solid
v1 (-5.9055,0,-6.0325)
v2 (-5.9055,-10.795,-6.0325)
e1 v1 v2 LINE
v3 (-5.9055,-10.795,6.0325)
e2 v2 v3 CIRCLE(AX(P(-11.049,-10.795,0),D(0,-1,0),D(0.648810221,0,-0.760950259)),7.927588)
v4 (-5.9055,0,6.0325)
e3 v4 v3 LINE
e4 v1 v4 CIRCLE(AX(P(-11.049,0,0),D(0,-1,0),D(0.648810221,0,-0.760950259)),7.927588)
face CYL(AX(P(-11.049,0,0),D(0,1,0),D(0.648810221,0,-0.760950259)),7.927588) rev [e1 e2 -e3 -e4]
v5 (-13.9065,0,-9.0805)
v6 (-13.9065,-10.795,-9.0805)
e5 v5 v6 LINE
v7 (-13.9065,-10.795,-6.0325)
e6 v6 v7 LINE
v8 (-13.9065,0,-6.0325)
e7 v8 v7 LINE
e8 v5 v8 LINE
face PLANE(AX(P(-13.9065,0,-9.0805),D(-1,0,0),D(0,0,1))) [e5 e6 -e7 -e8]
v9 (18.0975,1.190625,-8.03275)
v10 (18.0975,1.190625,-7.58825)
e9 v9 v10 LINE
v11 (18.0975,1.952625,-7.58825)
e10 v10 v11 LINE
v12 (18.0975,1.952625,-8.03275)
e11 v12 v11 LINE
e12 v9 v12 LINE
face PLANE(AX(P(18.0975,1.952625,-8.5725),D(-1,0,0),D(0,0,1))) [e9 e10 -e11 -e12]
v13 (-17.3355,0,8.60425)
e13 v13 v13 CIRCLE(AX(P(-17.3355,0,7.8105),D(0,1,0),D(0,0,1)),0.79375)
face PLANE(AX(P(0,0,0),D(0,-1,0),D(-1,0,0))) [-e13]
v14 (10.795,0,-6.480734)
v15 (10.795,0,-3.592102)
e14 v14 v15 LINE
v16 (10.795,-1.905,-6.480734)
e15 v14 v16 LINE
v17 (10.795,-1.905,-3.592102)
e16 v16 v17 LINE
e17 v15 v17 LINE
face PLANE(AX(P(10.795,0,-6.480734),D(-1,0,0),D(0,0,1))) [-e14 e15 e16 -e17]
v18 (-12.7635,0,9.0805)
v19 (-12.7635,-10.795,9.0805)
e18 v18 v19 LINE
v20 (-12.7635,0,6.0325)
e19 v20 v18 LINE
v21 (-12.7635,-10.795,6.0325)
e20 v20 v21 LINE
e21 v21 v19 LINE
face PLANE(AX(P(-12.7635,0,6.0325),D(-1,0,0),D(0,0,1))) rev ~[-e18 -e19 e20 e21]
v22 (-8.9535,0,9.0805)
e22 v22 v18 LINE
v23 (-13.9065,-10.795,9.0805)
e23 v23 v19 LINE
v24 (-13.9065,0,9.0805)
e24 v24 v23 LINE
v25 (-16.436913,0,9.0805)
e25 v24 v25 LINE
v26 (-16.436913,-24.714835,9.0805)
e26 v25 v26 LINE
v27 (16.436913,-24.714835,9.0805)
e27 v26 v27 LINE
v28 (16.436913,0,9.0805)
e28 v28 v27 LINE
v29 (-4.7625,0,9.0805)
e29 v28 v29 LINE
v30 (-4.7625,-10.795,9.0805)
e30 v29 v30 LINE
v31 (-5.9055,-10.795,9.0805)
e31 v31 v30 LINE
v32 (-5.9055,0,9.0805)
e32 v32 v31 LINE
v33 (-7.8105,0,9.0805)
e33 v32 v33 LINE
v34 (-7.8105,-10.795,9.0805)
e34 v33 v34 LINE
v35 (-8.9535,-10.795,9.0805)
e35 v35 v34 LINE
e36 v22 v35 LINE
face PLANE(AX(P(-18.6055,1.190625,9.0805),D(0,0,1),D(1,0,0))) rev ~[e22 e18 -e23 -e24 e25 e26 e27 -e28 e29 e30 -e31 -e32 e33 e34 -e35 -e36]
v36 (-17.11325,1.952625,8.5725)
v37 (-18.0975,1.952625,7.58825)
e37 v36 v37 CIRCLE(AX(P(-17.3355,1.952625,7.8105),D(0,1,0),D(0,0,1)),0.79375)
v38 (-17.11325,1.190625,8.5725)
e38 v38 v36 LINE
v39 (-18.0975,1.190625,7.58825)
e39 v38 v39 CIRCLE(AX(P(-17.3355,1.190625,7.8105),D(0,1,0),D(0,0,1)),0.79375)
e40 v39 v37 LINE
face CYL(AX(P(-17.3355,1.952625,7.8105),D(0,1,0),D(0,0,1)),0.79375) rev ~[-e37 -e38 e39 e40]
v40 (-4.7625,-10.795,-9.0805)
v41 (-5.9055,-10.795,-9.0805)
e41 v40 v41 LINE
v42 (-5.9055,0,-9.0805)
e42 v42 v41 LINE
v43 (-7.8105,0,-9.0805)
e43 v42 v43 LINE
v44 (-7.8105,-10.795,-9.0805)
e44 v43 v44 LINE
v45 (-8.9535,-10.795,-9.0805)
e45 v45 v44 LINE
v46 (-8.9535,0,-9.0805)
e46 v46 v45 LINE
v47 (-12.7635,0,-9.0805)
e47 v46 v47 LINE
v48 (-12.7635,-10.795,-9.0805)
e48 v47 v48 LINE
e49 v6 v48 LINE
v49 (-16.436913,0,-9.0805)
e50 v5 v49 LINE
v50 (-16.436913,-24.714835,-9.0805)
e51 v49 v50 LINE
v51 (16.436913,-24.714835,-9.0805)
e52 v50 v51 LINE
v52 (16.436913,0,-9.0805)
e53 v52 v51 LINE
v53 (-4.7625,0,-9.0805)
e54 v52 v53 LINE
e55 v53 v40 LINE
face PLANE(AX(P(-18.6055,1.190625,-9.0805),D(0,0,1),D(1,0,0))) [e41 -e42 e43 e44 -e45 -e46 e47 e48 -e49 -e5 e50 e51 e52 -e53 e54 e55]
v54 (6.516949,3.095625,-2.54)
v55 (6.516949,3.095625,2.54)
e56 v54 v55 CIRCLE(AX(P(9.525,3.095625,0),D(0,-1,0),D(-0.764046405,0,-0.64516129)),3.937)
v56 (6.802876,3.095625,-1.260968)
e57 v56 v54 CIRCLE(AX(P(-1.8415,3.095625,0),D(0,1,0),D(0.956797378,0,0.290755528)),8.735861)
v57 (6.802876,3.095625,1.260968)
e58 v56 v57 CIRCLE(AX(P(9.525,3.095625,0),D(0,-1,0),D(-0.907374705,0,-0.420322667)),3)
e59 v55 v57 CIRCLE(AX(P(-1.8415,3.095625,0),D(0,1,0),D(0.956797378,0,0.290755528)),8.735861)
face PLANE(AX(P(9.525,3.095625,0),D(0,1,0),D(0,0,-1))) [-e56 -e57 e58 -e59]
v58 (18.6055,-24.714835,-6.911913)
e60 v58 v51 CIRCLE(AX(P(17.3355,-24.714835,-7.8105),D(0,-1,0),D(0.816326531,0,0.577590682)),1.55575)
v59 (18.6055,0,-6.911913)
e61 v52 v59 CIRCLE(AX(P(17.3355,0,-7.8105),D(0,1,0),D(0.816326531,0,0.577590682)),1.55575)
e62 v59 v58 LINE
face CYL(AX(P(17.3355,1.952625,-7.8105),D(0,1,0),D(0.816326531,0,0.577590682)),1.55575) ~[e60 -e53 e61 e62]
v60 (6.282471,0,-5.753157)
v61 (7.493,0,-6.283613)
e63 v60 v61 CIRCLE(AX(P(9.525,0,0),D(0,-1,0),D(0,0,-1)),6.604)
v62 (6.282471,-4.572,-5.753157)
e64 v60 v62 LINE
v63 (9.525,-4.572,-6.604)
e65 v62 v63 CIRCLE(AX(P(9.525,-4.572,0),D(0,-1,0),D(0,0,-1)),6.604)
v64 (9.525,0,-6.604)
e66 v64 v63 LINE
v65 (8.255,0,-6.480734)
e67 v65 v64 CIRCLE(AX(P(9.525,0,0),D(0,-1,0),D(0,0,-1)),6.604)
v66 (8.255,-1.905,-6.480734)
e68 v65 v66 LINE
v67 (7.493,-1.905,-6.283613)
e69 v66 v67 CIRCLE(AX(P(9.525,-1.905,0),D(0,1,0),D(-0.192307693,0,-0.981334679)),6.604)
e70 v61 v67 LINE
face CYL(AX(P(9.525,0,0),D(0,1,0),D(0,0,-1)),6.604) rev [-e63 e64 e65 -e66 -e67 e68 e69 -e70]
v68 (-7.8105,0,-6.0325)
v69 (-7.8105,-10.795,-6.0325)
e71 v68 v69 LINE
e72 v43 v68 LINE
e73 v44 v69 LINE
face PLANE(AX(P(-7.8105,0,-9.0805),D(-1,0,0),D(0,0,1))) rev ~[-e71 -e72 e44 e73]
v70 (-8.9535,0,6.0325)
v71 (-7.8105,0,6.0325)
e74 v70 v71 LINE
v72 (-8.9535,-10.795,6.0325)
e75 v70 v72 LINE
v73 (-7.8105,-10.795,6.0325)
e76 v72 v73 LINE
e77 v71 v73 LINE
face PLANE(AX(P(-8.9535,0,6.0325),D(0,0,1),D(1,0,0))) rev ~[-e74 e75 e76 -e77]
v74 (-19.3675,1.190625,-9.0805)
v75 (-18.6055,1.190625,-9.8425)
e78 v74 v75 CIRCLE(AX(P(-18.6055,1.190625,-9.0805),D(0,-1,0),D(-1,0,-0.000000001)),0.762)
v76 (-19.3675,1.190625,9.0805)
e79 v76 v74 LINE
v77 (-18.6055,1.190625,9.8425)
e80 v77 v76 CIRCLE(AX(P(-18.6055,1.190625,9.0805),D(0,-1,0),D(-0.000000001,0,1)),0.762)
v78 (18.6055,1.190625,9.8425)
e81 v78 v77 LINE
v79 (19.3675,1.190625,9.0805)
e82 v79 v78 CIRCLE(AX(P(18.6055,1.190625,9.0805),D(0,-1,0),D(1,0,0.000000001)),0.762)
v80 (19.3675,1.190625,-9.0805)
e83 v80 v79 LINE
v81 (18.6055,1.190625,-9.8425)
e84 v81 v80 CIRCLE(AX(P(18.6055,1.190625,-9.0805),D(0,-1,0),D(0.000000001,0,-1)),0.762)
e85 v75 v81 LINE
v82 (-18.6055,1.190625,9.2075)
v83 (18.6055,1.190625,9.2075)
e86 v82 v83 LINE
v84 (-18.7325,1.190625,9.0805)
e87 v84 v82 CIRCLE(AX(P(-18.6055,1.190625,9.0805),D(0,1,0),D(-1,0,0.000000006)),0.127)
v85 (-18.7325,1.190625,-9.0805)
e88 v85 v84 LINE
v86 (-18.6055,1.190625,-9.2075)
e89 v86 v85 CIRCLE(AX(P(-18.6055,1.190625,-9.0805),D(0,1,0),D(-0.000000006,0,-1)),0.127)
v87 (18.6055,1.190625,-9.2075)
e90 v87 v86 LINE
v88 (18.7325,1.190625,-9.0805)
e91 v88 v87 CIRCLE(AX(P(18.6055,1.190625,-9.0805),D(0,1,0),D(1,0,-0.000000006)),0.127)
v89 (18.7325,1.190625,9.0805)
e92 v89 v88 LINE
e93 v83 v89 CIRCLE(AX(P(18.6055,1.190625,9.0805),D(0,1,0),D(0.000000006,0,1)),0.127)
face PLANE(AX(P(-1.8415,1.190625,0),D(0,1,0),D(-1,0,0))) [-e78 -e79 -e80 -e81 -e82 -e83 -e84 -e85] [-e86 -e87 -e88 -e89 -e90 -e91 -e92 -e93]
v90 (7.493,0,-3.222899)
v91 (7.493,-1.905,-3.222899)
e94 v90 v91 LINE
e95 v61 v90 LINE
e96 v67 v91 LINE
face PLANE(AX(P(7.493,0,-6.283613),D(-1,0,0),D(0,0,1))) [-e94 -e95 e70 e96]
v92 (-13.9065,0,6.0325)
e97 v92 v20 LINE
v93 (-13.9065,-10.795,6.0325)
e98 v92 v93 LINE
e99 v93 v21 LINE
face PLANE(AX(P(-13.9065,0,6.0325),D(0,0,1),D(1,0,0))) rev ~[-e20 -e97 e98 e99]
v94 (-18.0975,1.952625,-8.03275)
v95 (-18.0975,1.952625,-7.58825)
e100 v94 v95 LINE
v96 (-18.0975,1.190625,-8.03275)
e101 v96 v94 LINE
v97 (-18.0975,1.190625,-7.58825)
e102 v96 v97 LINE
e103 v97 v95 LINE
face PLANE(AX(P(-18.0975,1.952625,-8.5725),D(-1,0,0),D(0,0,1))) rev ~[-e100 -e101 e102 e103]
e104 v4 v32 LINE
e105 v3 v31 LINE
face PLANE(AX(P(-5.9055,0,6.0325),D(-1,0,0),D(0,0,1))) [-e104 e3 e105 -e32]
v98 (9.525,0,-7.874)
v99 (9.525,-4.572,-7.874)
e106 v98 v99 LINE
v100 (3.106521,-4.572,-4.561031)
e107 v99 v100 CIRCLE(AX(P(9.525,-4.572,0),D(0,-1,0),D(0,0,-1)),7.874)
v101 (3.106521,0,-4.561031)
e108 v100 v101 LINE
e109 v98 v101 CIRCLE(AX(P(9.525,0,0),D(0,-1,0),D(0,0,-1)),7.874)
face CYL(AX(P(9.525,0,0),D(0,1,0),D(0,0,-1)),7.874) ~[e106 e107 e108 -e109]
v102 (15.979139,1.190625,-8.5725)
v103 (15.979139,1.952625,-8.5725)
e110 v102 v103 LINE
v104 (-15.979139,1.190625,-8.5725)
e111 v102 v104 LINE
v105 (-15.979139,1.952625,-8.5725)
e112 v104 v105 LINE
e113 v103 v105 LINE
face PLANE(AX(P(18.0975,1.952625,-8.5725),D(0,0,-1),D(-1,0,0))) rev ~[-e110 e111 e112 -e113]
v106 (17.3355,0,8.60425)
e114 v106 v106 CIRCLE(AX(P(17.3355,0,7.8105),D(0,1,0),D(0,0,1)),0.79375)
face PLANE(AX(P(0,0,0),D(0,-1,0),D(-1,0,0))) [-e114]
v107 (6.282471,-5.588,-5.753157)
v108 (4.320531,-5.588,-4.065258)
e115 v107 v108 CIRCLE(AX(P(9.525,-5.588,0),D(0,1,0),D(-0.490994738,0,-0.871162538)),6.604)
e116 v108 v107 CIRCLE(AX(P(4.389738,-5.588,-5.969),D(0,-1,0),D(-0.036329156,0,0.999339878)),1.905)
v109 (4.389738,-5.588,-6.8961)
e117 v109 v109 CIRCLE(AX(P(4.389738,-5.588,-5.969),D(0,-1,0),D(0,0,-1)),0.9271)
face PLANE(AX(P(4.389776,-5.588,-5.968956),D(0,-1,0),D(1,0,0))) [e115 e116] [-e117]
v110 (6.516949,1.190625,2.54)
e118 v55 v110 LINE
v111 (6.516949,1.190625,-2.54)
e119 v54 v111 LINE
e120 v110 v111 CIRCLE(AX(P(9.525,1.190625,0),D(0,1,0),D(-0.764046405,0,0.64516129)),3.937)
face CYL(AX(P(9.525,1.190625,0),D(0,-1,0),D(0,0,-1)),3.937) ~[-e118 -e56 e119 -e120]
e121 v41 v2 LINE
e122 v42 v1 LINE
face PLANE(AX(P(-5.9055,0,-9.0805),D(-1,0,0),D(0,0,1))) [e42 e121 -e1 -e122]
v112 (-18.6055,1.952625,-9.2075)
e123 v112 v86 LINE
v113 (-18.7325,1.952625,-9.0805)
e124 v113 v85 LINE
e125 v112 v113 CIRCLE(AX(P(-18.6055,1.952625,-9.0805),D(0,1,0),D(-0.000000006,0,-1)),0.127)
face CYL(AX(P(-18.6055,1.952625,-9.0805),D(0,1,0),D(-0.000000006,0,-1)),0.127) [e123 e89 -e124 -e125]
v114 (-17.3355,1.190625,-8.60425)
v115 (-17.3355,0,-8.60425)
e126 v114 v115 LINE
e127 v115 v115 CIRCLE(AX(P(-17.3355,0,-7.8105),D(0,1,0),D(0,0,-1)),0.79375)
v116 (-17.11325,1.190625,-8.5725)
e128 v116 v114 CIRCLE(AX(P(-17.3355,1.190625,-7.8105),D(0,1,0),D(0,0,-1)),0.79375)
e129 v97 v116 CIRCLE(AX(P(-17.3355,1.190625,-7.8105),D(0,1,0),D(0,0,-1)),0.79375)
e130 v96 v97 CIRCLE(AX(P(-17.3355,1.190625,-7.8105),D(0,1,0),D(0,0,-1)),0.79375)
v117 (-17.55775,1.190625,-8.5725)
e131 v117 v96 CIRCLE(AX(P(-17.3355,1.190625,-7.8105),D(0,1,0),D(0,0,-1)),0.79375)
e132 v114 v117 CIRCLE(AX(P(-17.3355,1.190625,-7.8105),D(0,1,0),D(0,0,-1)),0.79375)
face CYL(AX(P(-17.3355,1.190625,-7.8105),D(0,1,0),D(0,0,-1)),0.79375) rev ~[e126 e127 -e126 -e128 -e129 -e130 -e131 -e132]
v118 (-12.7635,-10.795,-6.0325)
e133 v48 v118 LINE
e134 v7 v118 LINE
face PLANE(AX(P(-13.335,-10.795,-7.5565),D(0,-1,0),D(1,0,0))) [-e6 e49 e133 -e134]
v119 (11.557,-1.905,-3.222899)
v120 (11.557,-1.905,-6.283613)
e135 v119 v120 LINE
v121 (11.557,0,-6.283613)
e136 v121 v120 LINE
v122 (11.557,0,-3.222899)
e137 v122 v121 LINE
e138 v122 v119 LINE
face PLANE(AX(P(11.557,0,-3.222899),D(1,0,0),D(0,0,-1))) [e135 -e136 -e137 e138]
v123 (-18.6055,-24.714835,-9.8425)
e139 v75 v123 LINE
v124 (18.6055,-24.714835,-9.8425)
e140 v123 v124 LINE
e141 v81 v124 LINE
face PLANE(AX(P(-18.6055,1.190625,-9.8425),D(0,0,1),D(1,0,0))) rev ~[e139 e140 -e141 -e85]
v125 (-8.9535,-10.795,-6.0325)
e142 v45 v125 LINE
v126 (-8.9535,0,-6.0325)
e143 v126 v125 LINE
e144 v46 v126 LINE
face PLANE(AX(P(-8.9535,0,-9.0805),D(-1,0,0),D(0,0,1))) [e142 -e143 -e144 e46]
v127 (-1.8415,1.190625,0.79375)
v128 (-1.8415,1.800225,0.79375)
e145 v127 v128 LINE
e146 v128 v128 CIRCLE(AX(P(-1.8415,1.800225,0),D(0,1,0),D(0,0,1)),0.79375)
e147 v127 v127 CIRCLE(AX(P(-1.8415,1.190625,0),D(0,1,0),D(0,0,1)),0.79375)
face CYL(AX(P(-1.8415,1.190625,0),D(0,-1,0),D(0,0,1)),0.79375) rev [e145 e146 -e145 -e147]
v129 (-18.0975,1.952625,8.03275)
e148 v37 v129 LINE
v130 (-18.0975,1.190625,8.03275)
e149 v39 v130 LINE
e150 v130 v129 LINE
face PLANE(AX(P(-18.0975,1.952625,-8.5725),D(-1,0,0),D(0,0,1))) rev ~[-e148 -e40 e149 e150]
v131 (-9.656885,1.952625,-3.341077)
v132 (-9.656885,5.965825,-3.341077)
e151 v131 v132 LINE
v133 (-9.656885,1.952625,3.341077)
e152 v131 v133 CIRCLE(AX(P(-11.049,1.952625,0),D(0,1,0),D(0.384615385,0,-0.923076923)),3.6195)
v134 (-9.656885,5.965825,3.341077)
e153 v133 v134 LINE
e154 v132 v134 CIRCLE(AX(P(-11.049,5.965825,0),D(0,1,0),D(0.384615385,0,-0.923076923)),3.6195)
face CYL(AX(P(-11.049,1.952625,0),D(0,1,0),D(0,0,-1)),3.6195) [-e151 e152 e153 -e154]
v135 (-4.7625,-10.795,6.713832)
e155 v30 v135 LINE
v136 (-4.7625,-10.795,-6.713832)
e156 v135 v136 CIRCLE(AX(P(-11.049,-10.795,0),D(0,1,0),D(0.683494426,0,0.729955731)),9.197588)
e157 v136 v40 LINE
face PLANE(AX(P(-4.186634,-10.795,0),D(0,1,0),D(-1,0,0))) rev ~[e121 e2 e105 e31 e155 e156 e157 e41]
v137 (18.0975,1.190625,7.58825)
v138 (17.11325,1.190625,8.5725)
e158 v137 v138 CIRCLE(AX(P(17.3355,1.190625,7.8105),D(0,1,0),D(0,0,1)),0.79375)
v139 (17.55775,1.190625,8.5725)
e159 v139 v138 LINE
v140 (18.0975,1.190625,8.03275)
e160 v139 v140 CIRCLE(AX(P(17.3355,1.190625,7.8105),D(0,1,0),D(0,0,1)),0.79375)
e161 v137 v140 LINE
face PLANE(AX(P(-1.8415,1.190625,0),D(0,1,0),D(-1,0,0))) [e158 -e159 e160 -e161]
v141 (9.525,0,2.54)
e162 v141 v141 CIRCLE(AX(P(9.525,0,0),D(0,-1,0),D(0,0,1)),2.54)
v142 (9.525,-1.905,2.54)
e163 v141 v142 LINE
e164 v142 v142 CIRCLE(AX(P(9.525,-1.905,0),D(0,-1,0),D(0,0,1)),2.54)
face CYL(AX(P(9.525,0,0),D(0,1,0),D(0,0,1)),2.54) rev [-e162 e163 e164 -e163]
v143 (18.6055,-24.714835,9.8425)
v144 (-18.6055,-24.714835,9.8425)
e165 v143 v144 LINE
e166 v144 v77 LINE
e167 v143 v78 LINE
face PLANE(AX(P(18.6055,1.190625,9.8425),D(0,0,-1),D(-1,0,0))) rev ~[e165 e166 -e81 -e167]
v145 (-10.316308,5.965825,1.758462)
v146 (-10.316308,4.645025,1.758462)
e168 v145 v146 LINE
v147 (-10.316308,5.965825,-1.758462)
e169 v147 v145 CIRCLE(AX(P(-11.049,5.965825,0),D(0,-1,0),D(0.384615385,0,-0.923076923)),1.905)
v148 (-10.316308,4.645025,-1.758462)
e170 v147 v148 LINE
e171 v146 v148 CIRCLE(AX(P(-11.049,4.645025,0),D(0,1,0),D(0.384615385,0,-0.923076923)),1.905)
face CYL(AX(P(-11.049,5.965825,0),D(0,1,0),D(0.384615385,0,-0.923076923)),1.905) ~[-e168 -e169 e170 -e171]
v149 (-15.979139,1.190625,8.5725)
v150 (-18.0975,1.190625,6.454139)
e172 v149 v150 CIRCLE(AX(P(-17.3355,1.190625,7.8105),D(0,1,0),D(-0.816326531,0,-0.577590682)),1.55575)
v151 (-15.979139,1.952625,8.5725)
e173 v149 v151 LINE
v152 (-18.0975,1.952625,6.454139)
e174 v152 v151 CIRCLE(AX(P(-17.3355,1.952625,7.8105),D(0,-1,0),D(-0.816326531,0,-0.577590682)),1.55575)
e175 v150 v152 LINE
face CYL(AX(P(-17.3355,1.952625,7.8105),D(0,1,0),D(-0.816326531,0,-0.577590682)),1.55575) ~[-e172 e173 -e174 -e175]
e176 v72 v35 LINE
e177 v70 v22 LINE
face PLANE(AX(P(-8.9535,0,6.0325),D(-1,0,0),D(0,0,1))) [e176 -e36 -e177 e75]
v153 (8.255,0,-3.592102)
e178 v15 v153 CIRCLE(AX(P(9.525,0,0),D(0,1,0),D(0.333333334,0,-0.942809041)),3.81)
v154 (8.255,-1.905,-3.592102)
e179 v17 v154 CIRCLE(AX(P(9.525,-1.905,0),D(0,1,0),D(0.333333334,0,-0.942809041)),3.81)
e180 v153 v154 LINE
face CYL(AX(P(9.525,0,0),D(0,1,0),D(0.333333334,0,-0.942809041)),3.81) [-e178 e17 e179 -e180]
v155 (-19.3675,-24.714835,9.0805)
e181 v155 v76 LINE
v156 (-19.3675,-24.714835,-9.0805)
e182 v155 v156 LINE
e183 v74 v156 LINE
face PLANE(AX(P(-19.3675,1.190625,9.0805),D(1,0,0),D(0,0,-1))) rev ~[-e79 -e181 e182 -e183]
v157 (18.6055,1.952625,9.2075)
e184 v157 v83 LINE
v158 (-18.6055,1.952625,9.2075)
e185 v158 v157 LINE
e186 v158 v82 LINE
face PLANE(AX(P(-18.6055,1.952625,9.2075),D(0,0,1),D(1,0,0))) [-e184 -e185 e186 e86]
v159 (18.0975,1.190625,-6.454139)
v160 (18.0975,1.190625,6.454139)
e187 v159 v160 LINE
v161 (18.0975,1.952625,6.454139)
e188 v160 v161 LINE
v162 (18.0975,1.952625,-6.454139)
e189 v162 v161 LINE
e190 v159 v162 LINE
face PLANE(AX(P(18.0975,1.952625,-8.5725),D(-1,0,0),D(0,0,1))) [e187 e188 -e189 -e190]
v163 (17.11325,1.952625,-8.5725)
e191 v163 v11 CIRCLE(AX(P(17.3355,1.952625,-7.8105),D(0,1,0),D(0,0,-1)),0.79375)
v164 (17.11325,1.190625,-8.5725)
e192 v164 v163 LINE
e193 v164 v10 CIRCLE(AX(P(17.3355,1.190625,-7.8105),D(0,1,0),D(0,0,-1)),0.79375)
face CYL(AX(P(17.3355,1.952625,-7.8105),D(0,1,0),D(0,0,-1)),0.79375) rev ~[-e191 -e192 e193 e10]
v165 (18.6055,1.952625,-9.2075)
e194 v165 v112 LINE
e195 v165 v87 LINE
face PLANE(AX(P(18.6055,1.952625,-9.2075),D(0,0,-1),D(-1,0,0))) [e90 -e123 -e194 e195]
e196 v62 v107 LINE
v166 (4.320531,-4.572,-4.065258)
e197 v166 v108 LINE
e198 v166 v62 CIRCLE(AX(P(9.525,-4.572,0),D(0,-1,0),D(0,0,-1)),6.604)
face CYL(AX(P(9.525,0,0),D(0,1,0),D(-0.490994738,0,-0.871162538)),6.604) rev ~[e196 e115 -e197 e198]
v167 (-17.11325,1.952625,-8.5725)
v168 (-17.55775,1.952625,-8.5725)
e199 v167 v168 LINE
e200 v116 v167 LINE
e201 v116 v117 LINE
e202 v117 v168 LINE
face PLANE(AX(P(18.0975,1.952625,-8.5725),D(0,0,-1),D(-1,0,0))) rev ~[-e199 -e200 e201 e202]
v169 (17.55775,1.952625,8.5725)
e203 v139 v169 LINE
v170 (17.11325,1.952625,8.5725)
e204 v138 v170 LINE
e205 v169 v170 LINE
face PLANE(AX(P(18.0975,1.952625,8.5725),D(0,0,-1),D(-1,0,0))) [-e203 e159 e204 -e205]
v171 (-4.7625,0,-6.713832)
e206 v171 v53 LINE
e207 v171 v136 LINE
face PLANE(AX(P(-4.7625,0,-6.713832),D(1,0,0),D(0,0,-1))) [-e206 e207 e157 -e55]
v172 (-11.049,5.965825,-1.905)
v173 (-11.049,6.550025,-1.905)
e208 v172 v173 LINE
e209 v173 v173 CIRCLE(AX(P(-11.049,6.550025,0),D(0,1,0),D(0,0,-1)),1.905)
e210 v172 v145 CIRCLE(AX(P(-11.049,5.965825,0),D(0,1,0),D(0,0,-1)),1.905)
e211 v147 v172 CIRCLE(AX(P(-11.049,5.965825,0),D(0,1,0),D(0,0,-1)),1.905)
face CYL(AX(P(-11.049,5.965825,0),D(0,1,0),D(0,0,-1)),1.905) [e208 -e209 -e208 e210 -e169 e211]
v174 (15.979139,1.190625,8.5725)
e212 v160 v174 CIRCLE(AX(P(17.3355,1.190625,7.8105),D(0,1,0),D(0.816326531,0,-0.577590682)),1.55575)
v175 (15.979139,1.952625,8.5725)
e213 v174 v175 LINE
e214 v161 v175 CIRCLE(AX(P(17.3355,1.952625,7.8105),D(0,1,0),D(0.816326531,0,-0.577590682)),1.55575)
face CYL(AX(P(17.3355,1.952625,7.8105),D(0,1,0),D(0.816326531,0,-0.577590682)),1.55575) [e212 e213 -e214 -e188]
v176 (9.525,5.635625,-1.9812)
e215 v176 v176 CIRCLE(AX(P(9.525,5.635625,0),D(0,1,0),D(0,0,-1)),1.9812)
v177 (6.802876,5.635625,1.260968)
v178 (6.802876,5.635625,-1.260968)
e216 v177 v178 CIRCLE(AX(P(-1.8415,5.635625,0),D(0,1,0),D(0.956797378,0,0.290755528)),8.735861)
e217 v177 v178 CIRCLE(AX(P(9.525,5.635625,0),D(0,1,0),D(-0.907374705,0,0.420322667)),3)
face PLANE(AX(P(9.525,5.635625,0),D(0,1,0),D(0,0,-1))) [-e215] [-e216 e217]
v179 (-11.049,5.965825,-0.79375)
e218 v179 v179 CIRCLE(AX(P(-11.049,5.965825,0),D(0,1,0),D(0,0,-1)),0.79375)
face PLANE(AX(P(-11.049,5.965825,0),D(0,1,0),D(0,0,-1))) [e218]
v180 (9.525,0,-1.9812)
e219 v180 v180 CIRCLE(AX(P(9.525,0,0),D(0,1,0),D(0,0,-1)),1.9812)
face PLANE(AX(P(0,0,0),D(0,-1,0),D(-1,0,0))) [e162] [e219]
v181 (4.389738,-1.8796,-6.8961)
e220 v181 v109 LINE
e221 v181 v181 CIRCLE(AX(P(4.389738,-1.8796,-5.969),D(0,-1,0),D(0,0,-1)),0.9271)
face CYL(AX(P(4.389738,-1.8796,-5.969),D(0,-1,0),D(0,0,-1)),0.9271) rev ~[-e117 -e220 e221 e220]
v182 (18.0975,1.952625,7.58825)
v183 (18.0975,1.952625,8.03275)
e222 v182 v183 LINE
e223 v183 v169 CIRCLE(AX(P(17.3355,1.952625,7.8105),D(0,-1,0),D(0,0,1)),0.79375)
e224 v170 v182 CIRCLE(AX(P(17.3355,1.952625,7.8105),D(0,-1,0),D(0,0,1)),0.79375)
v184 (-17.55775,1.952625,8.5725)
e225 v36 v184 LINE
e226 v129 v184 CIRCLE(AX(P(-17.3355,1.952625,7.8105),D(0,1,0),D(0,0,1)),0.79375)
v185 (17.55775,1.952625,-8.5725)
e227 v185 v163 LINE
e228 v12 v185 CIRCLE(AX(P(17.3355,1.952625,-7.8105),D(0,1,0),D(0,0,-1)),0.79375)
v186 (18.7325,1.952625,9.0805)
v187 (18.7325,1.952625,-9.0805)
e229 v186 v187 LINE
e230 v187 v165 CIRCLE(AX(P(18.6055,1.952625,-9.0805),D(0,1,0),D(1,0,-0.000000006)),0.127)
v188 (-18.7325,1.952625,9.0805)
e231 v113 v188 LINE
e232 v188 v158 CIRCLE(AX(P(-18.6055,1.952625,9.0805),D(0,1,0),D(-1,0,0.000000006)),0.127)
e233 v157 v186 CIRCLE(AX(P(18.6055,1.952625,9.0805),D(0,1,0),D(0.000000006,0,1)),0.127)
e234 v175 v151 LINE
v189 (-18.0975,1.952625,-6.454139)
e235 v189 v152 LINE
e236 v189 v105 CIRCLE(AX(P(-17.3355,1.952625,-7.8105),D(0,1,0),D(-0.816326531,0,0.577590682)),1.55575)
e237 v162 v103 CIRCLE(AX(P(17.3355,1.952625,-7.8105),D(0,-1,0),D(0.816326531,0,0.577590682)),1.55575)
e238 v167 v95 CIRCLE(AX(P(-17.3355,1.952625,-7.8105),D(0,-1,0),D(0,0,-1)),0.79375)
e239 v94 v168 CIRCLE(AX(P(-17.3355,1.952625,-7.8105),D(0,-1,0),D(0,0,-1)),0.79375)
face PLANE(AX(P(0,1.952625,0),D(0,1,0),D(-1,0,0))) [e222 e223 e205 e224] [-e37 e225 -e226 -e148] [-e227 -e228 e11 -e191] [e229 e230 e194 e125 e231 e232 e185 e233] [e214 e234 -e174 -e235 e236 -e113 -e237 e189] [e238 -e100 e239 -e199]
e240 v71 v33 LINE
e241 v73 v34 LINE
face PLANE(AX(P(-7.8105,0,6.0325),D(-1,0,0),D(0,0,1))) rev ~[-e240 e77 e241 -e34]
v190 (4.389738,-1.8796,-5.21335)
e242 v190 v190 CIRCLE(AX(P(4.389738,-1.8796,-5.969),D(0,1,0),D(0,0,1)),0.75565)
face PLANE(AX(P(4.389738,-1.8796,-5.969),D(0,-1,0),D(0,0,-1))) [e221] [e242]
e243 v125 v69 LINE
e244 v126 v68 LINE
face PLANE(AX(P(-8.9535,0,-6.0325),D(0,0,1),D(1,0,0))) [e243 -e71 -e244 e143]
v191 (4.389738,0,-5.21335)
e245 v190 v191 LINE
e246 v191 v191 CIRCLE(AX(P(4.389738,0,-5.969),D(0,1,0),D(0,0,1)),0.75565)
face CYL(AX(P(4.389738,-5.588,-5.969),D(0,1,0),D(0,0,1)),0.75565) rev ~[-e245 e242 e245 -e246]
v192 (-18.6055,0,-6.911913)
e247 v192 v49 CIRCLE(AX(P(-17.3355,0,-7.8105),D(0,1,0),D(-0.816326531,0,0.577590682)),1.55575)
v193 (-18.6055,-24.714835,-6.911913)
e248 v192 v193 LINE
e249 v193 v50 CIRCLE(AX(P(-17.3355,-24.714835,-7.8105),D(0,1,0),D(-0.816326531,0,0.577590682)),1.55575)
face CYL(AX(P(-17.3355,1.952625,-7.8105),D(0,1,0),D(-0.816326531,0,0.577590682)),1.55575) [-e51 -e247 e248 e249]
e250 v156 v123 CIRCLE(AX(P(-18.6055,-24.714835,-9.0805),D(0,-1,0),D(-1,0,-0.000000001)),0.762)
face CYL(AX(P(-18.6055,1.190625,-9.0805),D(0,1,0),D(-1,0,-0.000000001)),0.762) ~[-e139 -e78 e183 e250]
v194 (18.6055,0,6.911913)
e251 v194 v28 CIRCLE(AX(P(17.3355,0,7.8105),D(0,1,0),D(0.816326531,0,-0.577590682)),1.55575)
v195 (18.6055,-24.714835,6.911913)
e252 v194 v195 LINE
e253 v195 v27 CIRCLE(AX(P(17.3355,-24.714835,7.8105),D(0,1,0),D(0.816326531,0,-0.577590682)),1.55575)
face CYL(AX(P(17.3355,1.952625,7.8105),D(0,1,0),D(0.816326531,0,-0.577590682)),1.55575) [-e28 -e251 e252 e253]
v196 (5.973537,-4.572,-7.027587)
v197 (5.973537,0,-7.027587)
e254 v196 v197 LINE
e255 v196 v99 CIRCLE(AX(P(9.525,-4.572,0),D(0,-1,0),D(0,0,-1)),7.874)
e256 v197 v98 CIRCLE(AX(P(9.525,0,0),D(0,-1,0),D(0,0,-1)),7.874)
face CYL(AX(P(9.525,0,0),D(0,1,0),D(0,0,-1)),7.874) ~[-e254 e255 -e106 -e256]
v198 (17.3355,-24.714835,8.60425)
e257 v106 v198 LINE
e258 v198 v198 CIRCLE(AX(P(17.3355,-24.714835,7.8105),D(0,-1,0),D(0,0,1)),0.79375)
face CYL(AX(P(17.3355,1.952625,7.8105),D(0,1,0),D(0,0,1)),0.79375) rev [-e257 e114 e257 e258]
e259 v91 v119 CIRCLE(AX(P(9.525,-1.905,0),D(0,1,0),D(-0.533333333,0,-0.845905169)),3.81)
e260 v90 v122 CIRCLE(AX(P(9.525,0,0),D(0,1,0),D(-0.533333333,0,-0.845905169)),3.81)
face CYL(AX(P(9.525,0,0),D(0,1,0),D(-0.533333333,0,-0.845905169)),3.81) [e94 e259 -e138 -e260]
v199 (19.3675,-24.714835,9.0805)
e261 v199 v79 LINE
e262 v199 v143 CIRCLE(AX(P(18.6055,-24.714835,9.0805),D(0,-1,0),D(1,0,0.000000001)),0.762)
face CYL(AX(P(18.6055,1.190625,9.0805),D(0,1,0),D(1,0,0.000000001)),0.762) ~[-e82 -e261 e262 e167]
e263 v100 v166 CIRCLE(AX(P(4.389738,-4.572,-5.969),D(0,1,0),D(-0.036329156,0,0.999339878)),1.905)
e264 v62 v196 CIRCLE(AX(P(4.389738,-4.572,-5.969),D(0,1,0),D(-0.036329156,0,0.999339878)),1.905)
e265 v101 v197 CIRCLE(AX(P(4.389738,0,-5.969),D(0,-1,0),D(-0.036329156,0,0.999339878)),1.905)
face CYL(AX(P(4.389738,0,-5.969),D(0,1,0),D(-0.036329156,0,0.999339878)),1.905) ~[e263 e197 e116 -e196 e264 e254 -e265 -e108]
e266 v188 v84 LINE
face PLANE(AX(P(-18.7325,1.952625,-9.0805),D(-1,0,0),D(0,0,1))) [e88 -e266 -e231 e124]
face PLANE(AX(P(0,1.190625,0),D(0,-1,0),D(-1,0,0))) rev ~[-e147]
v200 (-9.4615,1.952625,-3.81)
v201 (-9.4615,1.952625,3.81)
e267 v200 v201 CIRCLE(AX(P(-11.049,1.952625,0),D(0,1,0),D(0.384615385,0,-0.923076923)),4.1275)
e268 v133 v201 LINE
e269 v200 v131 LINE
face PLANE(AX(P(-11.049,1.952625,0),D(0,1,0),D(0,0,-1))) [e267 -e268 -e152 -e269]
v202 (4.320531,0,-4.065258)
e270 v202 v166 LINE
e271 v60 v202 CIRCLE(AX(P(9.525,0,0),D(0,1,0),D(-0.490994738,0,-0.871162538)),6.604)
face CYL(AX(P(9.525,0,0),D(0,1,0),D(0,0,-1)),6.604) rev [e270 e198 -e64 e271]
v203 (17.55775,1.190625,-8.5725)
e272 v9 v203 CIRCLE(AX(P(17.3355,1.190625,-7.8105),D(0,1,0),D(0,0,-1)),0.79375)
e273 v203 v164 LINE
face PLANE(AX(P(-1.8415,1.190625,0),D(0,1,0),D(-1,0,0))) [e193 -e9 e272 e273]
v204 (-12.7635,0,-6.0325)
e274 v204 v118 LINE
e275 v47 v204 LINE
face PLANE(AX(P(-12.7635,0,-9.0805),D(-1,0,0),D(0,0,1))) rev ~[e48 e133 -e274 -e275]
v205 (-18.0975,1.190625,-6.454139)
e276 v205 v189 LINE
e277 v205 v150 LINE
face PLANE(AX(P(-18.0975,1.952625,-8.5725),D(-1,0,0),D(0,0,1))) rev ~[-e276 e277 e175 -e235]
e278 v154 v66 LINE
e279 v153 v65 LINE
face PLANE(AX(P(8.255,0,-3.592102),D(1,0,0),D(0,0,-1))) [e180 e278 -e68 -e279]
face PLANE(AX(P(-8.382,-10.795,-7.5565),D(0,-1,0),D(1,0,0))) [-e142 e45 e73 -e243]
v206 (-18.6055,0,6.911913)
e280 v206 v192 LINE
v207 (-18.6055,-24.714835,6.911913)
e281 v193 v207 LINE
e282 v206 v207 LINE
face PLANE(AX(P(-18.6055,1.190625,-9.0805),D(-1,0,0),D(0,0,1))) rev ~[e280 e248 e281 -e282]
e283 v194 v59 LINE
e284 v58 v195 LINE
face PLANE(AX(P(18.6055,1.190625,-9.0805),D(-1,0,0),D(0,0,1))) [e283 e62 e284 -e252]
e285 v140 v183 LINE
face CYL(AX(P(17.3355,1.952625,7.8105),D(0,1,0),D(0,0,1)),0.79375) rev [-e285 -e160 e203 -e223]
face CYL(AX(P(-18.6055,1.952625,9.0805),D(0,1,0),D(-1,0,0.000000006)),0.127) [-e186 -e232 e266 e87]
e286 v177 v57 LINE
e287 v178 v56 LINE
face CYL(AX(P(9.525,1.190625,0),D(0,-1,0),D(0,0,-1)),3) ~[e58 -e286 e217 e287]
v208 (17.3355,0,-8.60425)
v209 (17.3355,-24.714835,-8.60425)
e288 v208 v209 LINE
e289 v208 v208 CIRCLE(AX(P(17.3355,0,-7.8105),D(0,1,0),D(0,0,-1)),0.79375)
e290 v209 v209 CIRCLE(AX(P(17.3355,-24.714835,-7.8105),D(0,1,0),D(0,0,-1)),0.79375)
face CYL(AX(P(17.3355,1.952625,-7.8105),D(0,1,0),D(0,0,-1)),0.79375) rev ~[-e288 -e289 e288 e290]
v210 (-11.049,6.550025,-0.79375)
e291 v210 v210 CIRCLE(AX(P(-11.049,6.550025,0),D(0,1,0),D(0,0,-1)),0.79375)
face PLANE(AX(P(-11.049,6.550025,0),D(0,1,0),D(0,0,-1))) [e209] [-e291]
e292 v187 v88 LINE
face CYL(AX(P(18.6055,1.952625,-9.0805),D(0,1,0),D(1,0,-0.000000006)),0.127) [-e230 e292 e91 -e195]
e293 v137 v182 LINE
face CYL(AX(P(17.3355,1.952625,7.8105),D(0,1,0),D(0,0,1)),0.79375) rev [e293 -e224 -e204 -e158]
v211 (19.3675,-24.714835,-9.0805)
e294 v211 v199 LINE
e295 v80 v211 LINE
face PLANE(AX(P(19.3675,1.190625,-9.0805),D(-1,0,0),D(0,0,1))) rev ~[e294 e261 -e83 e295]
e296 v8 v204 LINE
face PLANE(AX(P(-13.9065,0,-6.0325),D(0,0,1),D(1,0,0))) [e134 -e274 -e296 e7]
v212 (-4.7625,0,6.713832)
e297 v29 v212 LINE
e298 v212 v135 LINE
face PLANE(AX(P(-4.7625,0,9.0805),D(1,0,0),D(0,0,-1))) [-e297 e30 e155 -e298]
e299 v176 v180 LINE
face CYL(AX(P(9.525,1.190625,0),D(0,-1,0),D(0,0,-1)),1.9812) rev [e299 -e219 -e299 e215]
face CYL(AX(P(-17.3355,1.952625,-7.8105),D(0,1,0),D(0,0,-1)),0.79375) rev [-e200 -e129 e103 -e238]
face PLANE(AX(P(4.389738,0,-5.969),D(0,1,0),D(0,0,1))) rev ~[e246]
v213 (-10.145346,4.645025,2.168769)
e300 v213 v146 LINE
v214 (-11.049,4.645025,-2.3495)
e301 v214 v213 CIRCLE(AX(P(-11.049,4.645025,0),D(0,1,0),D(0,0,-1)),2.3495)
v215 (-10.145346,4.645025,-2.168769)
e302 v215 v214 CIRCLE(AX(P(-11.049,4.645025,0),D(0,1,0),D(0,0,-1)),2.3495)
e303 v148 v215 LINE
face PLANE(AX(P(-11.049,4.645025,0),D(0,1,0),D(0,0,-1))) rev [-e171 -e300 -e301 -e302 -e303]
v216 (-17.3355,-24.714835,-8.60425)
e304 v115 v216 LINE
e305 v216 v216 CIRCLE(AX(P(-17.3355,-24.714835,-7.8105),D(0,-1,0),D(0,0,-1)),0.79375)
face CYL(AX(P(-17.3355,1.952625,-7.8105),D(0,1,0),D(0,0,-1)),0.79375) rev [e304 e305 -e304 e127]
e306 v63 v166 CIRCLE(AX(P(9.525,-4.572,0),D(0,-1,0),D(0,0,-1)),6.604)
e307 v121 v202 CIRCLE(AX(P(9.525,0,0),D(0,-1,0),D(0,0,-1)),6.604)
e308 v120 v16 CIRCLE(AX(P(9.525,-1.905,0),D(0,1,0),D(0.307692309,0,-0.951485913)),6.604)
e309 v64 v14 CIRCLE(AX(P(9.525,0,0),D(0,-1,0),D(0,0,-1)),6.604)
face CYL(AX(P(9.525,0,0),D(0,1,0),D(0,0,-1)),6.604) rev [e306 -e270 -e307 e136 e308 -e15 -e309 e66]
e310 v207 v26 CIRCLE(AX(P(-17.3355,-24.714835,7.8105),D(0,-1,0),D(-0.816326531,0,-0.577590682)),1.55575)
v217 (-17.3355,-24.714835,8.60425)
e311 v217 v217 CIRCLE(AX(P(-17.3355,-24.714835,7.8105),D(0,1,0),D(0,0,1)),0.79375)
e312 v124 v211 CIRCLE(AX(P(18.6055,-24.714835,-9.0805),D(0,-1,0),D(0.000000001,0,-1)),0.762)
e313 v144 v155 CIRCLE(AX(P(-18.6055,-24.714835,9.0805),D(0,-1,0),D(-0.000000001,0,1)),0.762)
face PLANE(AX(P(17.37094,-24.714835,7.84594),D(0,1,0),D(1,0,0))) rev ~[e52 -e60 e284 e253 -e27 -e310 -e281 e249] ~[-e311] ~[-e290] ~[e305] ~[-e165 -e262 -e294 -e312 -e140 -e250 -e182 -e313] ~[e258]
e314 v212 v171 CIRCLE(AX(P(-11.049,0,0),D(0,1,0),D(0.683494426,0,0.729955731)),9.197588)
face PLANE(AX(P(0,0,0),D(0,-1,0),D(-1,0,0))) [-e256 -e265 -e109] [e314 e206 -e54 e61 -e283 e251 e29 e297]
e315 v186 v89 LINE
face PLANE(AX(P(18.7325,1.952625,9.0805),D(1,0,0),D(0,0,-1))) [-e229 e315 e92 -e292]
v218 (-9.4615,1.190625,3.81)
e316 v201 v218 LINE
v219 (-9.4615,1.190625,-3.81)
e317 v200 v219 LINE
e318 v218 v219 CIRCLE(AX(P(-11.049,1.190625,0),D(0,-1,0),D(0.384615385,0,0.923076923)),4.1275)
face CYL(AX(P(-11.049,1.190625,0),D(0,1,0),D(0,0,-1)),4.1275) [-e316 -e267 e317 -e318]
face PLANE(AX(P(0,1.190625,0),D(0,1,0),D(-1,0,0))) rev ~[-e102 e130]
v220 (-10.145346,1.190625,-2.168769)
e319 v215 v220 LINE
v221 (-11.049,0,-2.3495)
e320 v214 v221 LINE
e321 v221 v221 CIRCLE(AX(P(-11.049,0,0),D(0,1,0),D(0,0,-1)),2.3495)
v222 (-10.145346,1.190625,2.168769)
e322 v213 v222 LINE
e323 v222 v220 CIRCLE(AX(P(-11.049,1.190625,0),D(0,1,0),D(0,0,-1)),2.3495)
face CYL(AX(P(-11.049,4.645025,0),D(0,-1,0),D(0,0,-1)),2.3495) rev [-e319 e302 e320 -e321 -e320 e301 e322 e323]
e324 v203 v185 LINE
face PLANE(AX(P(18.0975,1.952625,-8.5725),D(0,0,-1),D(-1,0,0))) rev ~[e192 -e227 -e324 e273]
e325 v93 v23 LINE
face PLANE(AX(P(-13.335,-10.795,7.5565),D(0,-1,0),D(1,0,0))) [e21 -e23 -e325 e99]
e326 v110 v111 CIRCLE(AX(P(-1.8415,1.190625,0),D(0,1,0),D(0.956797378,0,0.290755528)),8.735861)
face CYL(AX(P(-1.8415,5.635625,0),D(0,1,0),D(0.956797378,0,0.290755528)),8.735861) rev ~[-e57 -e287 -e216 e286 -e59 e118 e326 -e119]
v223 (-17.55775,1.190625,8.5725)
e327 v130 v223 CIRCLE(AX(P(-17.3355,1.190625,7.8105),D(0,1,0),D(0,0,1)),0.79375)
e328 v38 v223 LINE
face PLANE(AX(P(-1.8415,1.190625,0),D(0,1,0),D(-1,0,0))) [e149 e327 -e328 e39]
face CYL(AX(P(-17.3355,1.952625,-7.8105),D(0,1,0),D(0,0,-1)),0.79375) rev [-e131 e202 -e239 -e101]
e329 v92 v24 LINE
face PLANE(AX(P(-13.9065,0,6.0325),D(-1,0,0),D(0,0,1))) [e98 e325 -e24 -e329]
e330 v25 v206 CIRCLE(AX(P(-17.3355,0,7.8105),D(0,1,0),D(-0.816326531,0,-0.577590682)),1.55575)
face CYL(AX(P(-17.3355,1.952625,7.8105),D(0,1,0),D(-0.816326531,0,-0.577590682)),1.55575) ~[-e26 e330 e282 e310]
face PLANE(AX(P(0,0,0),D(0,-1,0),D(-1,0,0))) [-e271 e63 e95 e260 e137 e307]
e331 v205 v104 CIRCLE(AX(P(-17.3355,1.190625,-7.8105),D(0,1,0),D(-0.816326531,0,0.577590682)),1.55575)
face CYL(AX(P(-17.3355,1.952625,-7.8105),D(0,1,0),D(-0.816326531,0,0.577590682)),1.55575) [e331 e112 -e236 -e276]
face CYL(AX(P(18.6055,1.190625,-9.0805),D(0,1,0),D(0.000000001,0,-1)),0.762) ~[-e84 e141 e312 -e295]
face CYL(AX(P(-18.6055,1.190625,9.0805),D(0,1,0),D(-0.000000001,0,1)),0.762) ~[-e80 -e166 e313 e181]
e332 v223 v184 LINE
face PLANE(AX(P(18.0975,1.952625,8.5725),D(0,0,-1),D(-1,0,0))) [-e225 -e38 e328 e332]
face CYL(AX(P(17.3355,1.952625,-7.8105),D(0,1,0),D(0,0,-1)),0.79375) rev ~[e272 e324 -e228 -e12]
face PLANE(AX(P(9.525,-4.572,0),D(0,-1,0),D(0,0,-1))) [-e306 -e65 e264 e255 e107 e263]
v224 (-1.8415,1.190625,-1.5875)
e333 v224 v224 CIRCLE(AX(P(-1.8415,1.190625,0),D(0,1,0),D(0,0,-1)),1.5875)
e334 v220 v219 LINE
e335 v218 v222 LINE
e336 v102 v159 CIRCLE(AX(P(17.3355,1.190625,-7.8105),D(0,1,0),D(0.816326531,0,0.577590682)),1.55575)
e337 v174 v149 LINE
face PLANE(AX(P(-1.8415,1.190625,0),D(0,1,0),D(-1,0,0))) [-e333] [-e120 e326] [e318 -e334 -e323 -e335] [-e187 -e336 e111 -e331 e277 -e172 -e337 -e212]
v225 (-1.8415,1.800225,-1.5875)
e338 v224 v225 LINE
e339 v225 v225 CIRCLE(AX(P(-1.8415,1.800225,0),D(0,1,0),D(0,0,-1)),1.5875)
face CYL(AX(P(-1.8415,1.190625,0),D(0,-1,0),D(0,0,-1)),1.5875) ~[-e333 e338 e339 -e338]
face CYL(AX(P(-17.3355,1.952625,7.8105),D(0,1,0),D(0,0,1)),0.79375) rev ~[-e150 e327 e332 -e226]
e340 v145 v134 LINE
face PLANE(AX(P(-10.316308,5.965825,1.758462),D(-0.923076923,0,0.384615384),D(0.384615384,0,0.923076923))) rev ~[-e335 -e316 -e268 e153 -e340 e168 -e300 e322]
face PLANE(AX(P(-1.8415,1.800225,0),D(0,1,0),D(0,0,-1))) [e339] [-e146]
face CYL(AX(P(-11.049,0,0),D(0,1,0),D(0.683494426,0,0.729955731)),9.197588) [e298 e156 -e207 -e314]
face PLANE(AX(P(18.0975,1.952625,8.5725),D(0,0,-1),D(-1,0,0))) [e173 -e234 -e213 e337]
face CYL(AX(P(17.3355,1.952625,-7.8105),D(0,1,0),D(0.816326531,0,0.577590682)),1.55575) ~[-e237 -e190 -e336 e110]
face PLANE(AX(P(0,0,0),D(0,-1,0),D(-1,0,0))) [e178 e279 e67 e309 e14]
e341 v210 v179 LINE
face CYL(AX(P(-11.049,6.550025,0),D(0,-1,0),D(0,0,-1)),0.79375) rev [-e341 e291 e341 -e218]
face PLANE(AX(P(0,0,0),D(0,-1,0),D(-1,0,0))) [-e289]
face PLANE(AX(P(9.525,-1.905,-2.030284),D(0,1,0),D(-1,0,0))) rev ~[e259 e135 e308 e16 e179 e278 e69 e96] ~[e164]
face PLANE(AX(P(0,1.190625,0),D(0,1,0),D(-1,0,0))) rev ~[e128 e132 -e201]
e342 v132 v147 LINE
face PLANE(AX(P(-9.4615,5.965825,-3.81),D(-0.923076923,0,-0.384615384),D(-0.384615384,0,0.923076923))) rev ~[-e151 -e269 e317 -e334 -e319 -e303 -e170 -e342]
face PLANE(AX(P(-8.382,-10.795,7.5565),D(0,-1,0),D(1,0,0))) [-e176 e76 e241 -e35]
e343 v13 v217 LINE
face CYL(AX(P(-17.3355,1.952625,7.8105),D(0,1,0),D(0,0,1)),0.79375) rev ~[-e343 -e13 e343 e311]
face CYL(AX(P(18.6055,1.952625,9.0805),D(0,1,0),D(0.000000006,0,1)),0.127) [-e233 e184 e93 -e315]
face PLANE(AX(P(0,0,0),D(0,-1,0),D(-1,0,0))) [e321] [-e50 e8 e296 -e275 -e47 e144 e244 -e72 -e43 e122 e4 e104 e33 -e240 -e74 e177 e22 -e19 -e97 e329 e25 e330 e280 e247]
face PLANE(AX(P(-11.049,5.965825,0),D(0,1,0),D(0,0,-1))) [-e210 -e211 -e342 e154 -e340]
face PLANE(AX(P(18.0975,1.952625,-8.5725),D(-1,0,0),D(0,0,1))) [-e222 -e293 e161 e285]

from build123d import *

# Parameters (mm, degrees)
SKETCH1_R                       = 2.3495
SKETCH1_R_2                     = 1.9812
EXTRUDE1_DEPTH                  = 1.190625
SKETCH6_R                       = 1.5875
SKETCH6_R_2                     = 0.79375
EXTRUDE3_DEPTH                  = 0.6096
SKETCH7_R                       = 3
SKETCH7_R_2                     = 1.9812
EXTRUDE4_DEPTH                  = 4.445
SKETCH16_R                      = 3.937
SKETCH16_R_2                    = 3
EXTRUDE11_DEPTH                 = 1.905
CUT_EXTRUDE1_REACH              = 24.444
SKETCH11_R                      = 7.874
SKETCH11_R_2                    = 6.604
EXTRUDE6_DEPTH                  = 4.572
SKETCH10_W                      = 37.211
SKETCH10_H                      = 18.161
EXTRUDE5_DEPTH                  = 25.90546
SKETCH13_W                      = 1.143
SKETCH13_H                      = 3.048
EXTRUDE8_DEPTH                  = 10.795
EXTRUDE9_START                  = -1.952625
SKETCH14_R                      = 0.79375
EXTRUDE9_DEPTH                  = 26.66746
SKETCH23_R                      = 0.79375
CUT_EXTRUDE2_DEPTH              = 1.190625
CUT_EXTRUDE3_REACH              = 39.594
MIRROR2_START                   = -1.952625
MIRROR2_COPY_1_SKETCH_R         = 0.79375
MIRROR2_COPY_1_DEPTH            = 26.66746
SKETCH18_W                      = 36.195
SKETCH18_H                      = 17.145
EXTRUDE12_DEPTH                 = 0.762
SKETCH19_R                      = 2.54
EXTRUDE13_DEPTH                 = 1.905
EXTRUDE14_DEPTH                 = 5.588
F_1_64_TAPPED_HOLE1_D           = 1.5113
F_1_64_TAPPED_HOLE1_DEPTH       = 5.588
F_1_64_TAPPED_HOLE1_CBORE_D     = 1.8542
F_1_64_TAPPED_HOLE1_CBORE_DEPTH = 3.7084


with BuildPart() as part:
    # Sketch1 → Extrude1 (new body)
    with BuildSketch(Plane(origin=(0, 0, 0), x_dir=(1, 0, 0), z_dir=(0, 1, 0))):
        with BuildLine():
            Line((-18.6055, 9.8425), (18.6055, 9.8425))
            ThreePointArc((18.6055, 9.8425), (19.144315367, 9.619315367), (19.3675, 9.0805))
            Line((19.3675, 9.0805), (19.3675, -9.0805))
            ThreePointArc((19.3675, -9.0805), (19.144315367, -9.619315367), (18.6055, -9.8425))
            Line((18.6055, -9.8425), (-18.6055, -9.8425))
            ThreePointArc((-18.6055, -9.8425), (-19.144315367, -9.619315367), (-19.3675, -9.0805))
            Line((-19.3675, -9.0805), (-19.3675, 9.0805))
            ThreePointArc((-19.3675, 9.0805), (-19.144315367, 9.619315367), (-18.6055, 9.8425))
        make_face()
        with Locations(Location((-11.049, 0, 0), (0, 0, 90))):
            Circle(SKETCH1_R, mode=Mode.SUBTRACT)
        with Locations(Location((9.525, 0, 0), (0, 0, 90))):
            Circle(SKETCH1_R_2, mode=Mode.SUBTRACT)
    extrude(amount=EXTRUDE1_DEPTH)

    # Sketch6 → Extrude3 (add)
    with BuildSketch(Plane(origin=(0, 1.190625, 0), x_dir=(-1, 0, 0), z_dir=(0, 1, 0))):
        with Locations(Location((1.8415, 0, 0), (0, 0, 270))):
            Circle(SKETCH6_R)
        with Locations(Location((1.8415, 0, 0), (0, 0, 90))):
            Circle(SKETCH6_R_2, mode=Mode.SUBTRACT)
    extrude(amount=EXTRUDE3_DEPTH)

    # Sketch7 → Extrude4 (add)
    with BuildSketch(Plane(origin=(0, 1.190625, 0), x_dir=(-1, 0, 0), z_dir=(0, 1, 0))):
        with Locations(Location((-9.525, 0, 0), (0, 0, 270))):
            Circle(SKETCH7_R)
        with Locations(Location((-9.525, 0, 0), (0, 0, 270))):
            Circle(SKETCH7_R_2, mode=Mode.SUBTRACT)
    extrude(amount=EXTRUDE4_DEPTH)

    # Sketch16 → Extrude11 (add)
    with BuildSketch(Plane(origin=(0, 1.190625, 0), x_dir=(-1, 0, 0), z_dir=(0, 1, 0))):
        with Locations(Location((-9.525, 0, 0), (0, 0, 270))):
            Circle(SKETCH16_R)
        with Locations(Location((-9.525, 0, 0), (0, 0, 90))):
            Circle(SKETCH16_R_2, mode=Mode.SUBTRACT)
    extrude(amount=EXTRUDE11_DEPTH)

    # Cut-Extrude1: up to this face of the body (flat: up to its plane)
    cut_extrude1_end = Plane(part.part.faces().sort_by_distance((0, 1.190625, -9.408000351))[0])
    # Sketch17 → Cut-Extrude1 (cut, up to the picked face)
    with BuildSketch(Plane(origin=(0, 5.635625, 0), x_dir=(-1, 0, 0), z_dir=(0, 1, 0)), mode=Mode.PRIVATE) as cut_extrude1_sk1:
        with BuildLine():
            ThreePointArc((-6.516949302, 2.54), (-6.894361419, 0), (-6.516949302, -2.54))
            ThreePointArc((-6.516949302, -2.54), (-5.588, 0), (-6.516949302, 2.54))
        make_face()
    cut_extrude1_tool1 = split(extrude(cut_extrude1_sk1.sketch, amount=-CUT_EXTRUDE1_REACH, mode=Mode.PRIVATE), bisect_by=cut_extrude1_end, keep=Keep.BOTH, mode=Mode.PRIVATE)
    add(cut_extrude1_tool1.solids().sort_by(Axis((6.291228, 5.635625, 0), (0, -1, 0)))[0], mode=Mode.SUBTRACT)

    # Sketch11 → Extrude6 (add)
    with BuildSketch(Plane.XZ):
        with Locations(Location((9.525, 0, 0), (0, 0, 270))):
            Circle(SKETCH11_R)
        with Locations(Location((9.525, 0, 0), (0, 0, 270))):
            Circle(SKETCH11_R_2, mode=Mode.SUBTRACT)
    extrude(amount=EXTRUDE6_DEPTH)

    # Sketch10 → Extrude5 (add)
    with BuildSketch(Plane.XZ.offset(-1.190625)):
        with BuildLine():
            Line((-19.3675, 9.0805), (-19.3675, -9.0805))
            ThreePointArc((-19.3675, -9.0805), (-19.144315367, -9.619315367), (-18.6055, -9.8425))
            Line((-18.6055, -9.8425), (18.6055, -9.8425))
            ThreePointArc((18.6055, -9.8425), (19.144315367, -9.619315367), (19.3675, -9.0805))
            Line((19.3675, -9.0805), (19.3675, 9.0805))
            ThreePointArc((19.3675, 9.0805), (19.144315367, 9.619315367), (18.6055, 9.8425))
            Line((18.6055, 9.8425), (-18.6055, 9.8425))
            ThreePointArc((-18.6055, 9.8425), (-19.144315367, 9.619315367), (-19.3675, 9.0805))
        make_face()
        Rectangle(SKETCH10_W, SKETCH10_H, mode=Mode.SUBTRACT)
    extrude(amount=EXTRUDE5_DEPTH)

    # Sketch13 → Extrude8 (add)
    with BuildSketch(Plane.XZ):
        with BuildLine():
            Line((-5.9055, 6.0325), (-5.9055, 9.0805))
            Line((-5.9055, 9.0805), (-4.7625, 9.0805))
            Line((-4.7625, 9.0805), (-4.7625, 6.713831938))
            ThreePointArc((-4.7625, 6.713831938), (-1.851412189, 0), (-4.7625, -6.713831938))
            Line((-4.7625, -6.713831938), (-4.7625, -9.0805))
            Line((-4.7625, -9.0805), (-5.9055, -9.0805))
            Line((-5.9055, -9.0805), (-5.9055, -6.0325))
            ThreePointArc((-5.9055, -6.0325), (-3.121412189, 0), (-5.9055, 6.0325))
        make_face()
        with Locations((-8.382, 7.5565)):
            Rectangle(SKETCH13_W, SKETCH13_H)
        with Locations((-13.335, 7.5565)):
            Rectangle(SKETCH13_W, SKETCH13_H)
        with Locations((-13.335, -7.5565)):
            Rectangle(SKETCH13_W, SKETCH13_H)
        with Locations((-8.382, -7.5565)):
            Rectangle(SKETCH13_W, SKETCH13_H)
    extrude(amount=EXTRUDE8_DEPTH)

    # Sketch14 → Extrude9 (add)
    with BuildSketch(Plane.XZ.offset(EXTRUDE9_START)):
        with BuildLine():
            Line((-18.6055, -9.0805), (-18.6055, -6.911913297))
            ThreePointArc((-18.6055, -6.911913297), (-16.235418625, -6.710418625), (-16.436913297, -9.0805))
            Line((-16.436913297, -9.0805), (-18.6055, -9.0805))
        make_face()
        with Locations(Location((-17.3355, -7.8105, 0), (0, 0, 270))):
            Circle(SKETCH14_R, mode=Mode.SUBTRACT)
    extrude9 = extrude(amount=EXTRUDE9_DEPTH)

    # Sketch23 → Cut-Extrude2 (cut)
    with BuildSketch(Plane(origin=(0, 1.190625, 0), x_dir=(-1, 0, 0), z_dir=(0, 1, 0))):
        with Locations(Location((17.3355, -7.8105, 0), (0, 0, 270))):
            Circle(SKETCH23_R)
    extrude(amount=-CUT_EXTRUDE2_DEPTH, mode=Mode.SUBTRACT)

    # Sketch9 → Revolve1 (revolve)
    with BuildSketch(Plane.XY, mode=Mode.PRIVATE) as revolve1_sk:
        Polygon((-12.954, 5.965825), (-12.954, 6.550025), (-11.84275, 6.550025), (-11.84275, 5.965825), (-11.049, 5.965825), (-11.049, 4.645025), (-13.3985, 4.645025), (-13.3985, 1.190625), (-15.1765, 1.190625), (-15.1765, 1.952625), (-14.6685, 1.952625), (-14.6685, 5.965825), align=None)
    revolve(revolve1_sk.sketch.rotate(Axis((-11.049, 0, 0), (0, 1, 0)), 270), axis=Axis((-11.049, 0, 0), (0, 1, 0)))

    # Cut-Extrude3: up to this face of the body (flat: up to its plane)
    cut_extrude3_end = Plane(part.part.faces().sort_by_distance((-1.8415, 1.190625, 0))[0])
    # Sketch24 → Cut-Extrude3 (cut, up to the picked face)
    with BuildSketch(Plane(origin=(0, 5.965825, 0), x_dir=(-1, 0, 0), z_dir=(0, 1, 0)), mode=Mode.PRIVATE) as cut_extrude3_sk1:
        with BuildLine():
            Line((10.316307692, 1.758461538), (9.4615, 3.81))
            ThreePointArc((9.4615, 3.81), (6.9215, 0), (9.4615, -3.81))
            Line((9.4615, -3.81), (10.316307692, -1.758461538))
            ThreePointArc((10.316307692, -1.758461538), (9.144, 0), (10.316307692, 1.758461538))
        make_face()
    cut_extrude3_tool1 = split(extrude(cut_extrude3_sk1.sketch, amount=-CUT_EXTRUDE3_REACH, mode=Mode.PRIVATE), bisect_by=cut_extrude3_end, keep=Keep.BOTH, mode=Mode.PRIVATE)
    add(cut_extrude3_tool1.solids().sort_by(Axis((-8.574349, 5.965825, 0), (0, -1, 0)))[0], mode=Mode.SUBTRACT)

    # Mirror1: Extrude9 across plane
    add(extrude9.mirror(Plane(origin=(0, 0, 0), x_dir=(0, 0, 1), z_dir=(1, 0, 0))))

    # Mirror2: Extrude9 across plane
    add(extrude9.mirror(Plane.XY))

    # Mirror2 copy 1 sketch → Mirror2 copy 1 (add)
    with BuildSketch(Plane(origin=(0, 0, 0), x_dir=(-1, 0, 0), z_dir=(0, -1, 0)).offset(MIRROR2_START)):
        with BuildLine():
            Line((-18.6055, -9.0805), (-18.6055, -6.911913297))
            ThreePointArc((-18.6055, -6.911913297), (-16.235418625, -6.710418625), (-16.436913297, -9.0805))
            Line((-16.436913297, -9.0805), (-18.6055, -9.0805))
        make_face()
        with Locations(Location((-17.3355, -7.8105, 0), (0, 0, 270))):
            Circle(MIRROR2_COPY_1_SKETCH_R, mode=Mode.SUBTRACT)
    extrude(amount=MIRROR2_COPY_1_DEPTH)

    # Sketch18 → Extrude12 (add)
    with BuildSketch(Plane(origin=(0, 1.952625, 0), x_dir=(-1, 0, 0), z_dir=(0, 1, 0))):
        with BuildLine():
            Line((18.6055, 9.2075), (-18.6055, 9.2075))
            ThreePointArc((-18.6055, 9.2075), (-18.695302561, 9.170302561), (-18.7325, 9.0805))
            Line((-18.7325, 9.0805), (-18.7325, -9.0805))
            ThreePointArc((-18.7325, -9.0805), (-18.695302561, -9.170302561), (-18.6055, -9.2075))
            Line((-18.6055, -9.2075), (18.6055, -9.2075))
            ThreePointArc((18.6055, -9.2075), (18.695302561, -9.170302561), (18.7325, -9.0805))
            Line((18.7325, -9.0805), (18.7325, 9.0805))
            ThreePointArc((18.7325, 9.0805), (18.695302561, 9.170302561), (18.6055, 9.2075))
        make_face()
        Rectangle(SKETCH18_W, SKETCH18_H, mode=Mode.SUBTRACT)
    extrude(amount=-EXTRUDE12_DEPTH)

    # Sketch19 → Extrude13 (add)
    with BuildSketch(Plane.XZ):
        with BuildLine():
            Line((11.557, -3.222898695), (11.557, -6.283612973))
            ThreePointArc((11.557, -6.283612973), (11.178939296, -6.393535861), (10.795, -6.480734218))
            Line((10.795, -6.480734218), (10.795, -3.592102448))
            ThreePointArc((10.795, -3.592102448), (9.525, -3.81), (8.255, -3.592102448))
            Line((8.255, -3.592102448), (8.255, -6.480734218))
            ThreePointArc((8.255, -6.480734218), (7.871060704, -6.393535861), (7.493, -6.283612973))
            Line((7.493, -6.283612973), (7.493, -3.222898695))
            ThreePointArc((7.493, -3.222898695), (9.525, 3.81), (11.557, -3.222898695))
        make_face()
        with Locations(Location((9.525, 0, 0), (0, 0, 90))):
            Circle(SKETCH19_R, mode=Mode.SUBTRACT)
    extrude(amount=EXTRUDE13_DEPTH)

    # Sketch20 → Extrude14 (add)
    with BuildSketch(Plane.XZ):
        with BuildLine():
            ThreePointArc((4.320531036, -4.065257532), (3.147336001, -7.413112903), (6.282470752, -5.753157401))
            ThreePointArc((6.282470752, -5.753157401), (5.218006131, -5.006258065), (4.320531036, -4.065257532))
        make_face()
    extrude(amount=EXTRUDE14_DEPTH)

    # 1-64 Tapped Hole1
    with Locations(Plane(origin=(4.389738079, -5.588, -5.969), x_dir=(0, 0, -1), z_dir=(0, -1, 0))):
        with Locations((0, 0)):
            CounterBoreHole(F_1_64_TAPPED_HOLE1_D / 2, F_1_64_TAPPED_HOLE1_CBORE_D / 2, F_1_64_TAPPED_HOLE1_CBORE_DEPTH, depth=F_1_64_TAPPED_HOLE1_DEPTH)


solid = part.part
